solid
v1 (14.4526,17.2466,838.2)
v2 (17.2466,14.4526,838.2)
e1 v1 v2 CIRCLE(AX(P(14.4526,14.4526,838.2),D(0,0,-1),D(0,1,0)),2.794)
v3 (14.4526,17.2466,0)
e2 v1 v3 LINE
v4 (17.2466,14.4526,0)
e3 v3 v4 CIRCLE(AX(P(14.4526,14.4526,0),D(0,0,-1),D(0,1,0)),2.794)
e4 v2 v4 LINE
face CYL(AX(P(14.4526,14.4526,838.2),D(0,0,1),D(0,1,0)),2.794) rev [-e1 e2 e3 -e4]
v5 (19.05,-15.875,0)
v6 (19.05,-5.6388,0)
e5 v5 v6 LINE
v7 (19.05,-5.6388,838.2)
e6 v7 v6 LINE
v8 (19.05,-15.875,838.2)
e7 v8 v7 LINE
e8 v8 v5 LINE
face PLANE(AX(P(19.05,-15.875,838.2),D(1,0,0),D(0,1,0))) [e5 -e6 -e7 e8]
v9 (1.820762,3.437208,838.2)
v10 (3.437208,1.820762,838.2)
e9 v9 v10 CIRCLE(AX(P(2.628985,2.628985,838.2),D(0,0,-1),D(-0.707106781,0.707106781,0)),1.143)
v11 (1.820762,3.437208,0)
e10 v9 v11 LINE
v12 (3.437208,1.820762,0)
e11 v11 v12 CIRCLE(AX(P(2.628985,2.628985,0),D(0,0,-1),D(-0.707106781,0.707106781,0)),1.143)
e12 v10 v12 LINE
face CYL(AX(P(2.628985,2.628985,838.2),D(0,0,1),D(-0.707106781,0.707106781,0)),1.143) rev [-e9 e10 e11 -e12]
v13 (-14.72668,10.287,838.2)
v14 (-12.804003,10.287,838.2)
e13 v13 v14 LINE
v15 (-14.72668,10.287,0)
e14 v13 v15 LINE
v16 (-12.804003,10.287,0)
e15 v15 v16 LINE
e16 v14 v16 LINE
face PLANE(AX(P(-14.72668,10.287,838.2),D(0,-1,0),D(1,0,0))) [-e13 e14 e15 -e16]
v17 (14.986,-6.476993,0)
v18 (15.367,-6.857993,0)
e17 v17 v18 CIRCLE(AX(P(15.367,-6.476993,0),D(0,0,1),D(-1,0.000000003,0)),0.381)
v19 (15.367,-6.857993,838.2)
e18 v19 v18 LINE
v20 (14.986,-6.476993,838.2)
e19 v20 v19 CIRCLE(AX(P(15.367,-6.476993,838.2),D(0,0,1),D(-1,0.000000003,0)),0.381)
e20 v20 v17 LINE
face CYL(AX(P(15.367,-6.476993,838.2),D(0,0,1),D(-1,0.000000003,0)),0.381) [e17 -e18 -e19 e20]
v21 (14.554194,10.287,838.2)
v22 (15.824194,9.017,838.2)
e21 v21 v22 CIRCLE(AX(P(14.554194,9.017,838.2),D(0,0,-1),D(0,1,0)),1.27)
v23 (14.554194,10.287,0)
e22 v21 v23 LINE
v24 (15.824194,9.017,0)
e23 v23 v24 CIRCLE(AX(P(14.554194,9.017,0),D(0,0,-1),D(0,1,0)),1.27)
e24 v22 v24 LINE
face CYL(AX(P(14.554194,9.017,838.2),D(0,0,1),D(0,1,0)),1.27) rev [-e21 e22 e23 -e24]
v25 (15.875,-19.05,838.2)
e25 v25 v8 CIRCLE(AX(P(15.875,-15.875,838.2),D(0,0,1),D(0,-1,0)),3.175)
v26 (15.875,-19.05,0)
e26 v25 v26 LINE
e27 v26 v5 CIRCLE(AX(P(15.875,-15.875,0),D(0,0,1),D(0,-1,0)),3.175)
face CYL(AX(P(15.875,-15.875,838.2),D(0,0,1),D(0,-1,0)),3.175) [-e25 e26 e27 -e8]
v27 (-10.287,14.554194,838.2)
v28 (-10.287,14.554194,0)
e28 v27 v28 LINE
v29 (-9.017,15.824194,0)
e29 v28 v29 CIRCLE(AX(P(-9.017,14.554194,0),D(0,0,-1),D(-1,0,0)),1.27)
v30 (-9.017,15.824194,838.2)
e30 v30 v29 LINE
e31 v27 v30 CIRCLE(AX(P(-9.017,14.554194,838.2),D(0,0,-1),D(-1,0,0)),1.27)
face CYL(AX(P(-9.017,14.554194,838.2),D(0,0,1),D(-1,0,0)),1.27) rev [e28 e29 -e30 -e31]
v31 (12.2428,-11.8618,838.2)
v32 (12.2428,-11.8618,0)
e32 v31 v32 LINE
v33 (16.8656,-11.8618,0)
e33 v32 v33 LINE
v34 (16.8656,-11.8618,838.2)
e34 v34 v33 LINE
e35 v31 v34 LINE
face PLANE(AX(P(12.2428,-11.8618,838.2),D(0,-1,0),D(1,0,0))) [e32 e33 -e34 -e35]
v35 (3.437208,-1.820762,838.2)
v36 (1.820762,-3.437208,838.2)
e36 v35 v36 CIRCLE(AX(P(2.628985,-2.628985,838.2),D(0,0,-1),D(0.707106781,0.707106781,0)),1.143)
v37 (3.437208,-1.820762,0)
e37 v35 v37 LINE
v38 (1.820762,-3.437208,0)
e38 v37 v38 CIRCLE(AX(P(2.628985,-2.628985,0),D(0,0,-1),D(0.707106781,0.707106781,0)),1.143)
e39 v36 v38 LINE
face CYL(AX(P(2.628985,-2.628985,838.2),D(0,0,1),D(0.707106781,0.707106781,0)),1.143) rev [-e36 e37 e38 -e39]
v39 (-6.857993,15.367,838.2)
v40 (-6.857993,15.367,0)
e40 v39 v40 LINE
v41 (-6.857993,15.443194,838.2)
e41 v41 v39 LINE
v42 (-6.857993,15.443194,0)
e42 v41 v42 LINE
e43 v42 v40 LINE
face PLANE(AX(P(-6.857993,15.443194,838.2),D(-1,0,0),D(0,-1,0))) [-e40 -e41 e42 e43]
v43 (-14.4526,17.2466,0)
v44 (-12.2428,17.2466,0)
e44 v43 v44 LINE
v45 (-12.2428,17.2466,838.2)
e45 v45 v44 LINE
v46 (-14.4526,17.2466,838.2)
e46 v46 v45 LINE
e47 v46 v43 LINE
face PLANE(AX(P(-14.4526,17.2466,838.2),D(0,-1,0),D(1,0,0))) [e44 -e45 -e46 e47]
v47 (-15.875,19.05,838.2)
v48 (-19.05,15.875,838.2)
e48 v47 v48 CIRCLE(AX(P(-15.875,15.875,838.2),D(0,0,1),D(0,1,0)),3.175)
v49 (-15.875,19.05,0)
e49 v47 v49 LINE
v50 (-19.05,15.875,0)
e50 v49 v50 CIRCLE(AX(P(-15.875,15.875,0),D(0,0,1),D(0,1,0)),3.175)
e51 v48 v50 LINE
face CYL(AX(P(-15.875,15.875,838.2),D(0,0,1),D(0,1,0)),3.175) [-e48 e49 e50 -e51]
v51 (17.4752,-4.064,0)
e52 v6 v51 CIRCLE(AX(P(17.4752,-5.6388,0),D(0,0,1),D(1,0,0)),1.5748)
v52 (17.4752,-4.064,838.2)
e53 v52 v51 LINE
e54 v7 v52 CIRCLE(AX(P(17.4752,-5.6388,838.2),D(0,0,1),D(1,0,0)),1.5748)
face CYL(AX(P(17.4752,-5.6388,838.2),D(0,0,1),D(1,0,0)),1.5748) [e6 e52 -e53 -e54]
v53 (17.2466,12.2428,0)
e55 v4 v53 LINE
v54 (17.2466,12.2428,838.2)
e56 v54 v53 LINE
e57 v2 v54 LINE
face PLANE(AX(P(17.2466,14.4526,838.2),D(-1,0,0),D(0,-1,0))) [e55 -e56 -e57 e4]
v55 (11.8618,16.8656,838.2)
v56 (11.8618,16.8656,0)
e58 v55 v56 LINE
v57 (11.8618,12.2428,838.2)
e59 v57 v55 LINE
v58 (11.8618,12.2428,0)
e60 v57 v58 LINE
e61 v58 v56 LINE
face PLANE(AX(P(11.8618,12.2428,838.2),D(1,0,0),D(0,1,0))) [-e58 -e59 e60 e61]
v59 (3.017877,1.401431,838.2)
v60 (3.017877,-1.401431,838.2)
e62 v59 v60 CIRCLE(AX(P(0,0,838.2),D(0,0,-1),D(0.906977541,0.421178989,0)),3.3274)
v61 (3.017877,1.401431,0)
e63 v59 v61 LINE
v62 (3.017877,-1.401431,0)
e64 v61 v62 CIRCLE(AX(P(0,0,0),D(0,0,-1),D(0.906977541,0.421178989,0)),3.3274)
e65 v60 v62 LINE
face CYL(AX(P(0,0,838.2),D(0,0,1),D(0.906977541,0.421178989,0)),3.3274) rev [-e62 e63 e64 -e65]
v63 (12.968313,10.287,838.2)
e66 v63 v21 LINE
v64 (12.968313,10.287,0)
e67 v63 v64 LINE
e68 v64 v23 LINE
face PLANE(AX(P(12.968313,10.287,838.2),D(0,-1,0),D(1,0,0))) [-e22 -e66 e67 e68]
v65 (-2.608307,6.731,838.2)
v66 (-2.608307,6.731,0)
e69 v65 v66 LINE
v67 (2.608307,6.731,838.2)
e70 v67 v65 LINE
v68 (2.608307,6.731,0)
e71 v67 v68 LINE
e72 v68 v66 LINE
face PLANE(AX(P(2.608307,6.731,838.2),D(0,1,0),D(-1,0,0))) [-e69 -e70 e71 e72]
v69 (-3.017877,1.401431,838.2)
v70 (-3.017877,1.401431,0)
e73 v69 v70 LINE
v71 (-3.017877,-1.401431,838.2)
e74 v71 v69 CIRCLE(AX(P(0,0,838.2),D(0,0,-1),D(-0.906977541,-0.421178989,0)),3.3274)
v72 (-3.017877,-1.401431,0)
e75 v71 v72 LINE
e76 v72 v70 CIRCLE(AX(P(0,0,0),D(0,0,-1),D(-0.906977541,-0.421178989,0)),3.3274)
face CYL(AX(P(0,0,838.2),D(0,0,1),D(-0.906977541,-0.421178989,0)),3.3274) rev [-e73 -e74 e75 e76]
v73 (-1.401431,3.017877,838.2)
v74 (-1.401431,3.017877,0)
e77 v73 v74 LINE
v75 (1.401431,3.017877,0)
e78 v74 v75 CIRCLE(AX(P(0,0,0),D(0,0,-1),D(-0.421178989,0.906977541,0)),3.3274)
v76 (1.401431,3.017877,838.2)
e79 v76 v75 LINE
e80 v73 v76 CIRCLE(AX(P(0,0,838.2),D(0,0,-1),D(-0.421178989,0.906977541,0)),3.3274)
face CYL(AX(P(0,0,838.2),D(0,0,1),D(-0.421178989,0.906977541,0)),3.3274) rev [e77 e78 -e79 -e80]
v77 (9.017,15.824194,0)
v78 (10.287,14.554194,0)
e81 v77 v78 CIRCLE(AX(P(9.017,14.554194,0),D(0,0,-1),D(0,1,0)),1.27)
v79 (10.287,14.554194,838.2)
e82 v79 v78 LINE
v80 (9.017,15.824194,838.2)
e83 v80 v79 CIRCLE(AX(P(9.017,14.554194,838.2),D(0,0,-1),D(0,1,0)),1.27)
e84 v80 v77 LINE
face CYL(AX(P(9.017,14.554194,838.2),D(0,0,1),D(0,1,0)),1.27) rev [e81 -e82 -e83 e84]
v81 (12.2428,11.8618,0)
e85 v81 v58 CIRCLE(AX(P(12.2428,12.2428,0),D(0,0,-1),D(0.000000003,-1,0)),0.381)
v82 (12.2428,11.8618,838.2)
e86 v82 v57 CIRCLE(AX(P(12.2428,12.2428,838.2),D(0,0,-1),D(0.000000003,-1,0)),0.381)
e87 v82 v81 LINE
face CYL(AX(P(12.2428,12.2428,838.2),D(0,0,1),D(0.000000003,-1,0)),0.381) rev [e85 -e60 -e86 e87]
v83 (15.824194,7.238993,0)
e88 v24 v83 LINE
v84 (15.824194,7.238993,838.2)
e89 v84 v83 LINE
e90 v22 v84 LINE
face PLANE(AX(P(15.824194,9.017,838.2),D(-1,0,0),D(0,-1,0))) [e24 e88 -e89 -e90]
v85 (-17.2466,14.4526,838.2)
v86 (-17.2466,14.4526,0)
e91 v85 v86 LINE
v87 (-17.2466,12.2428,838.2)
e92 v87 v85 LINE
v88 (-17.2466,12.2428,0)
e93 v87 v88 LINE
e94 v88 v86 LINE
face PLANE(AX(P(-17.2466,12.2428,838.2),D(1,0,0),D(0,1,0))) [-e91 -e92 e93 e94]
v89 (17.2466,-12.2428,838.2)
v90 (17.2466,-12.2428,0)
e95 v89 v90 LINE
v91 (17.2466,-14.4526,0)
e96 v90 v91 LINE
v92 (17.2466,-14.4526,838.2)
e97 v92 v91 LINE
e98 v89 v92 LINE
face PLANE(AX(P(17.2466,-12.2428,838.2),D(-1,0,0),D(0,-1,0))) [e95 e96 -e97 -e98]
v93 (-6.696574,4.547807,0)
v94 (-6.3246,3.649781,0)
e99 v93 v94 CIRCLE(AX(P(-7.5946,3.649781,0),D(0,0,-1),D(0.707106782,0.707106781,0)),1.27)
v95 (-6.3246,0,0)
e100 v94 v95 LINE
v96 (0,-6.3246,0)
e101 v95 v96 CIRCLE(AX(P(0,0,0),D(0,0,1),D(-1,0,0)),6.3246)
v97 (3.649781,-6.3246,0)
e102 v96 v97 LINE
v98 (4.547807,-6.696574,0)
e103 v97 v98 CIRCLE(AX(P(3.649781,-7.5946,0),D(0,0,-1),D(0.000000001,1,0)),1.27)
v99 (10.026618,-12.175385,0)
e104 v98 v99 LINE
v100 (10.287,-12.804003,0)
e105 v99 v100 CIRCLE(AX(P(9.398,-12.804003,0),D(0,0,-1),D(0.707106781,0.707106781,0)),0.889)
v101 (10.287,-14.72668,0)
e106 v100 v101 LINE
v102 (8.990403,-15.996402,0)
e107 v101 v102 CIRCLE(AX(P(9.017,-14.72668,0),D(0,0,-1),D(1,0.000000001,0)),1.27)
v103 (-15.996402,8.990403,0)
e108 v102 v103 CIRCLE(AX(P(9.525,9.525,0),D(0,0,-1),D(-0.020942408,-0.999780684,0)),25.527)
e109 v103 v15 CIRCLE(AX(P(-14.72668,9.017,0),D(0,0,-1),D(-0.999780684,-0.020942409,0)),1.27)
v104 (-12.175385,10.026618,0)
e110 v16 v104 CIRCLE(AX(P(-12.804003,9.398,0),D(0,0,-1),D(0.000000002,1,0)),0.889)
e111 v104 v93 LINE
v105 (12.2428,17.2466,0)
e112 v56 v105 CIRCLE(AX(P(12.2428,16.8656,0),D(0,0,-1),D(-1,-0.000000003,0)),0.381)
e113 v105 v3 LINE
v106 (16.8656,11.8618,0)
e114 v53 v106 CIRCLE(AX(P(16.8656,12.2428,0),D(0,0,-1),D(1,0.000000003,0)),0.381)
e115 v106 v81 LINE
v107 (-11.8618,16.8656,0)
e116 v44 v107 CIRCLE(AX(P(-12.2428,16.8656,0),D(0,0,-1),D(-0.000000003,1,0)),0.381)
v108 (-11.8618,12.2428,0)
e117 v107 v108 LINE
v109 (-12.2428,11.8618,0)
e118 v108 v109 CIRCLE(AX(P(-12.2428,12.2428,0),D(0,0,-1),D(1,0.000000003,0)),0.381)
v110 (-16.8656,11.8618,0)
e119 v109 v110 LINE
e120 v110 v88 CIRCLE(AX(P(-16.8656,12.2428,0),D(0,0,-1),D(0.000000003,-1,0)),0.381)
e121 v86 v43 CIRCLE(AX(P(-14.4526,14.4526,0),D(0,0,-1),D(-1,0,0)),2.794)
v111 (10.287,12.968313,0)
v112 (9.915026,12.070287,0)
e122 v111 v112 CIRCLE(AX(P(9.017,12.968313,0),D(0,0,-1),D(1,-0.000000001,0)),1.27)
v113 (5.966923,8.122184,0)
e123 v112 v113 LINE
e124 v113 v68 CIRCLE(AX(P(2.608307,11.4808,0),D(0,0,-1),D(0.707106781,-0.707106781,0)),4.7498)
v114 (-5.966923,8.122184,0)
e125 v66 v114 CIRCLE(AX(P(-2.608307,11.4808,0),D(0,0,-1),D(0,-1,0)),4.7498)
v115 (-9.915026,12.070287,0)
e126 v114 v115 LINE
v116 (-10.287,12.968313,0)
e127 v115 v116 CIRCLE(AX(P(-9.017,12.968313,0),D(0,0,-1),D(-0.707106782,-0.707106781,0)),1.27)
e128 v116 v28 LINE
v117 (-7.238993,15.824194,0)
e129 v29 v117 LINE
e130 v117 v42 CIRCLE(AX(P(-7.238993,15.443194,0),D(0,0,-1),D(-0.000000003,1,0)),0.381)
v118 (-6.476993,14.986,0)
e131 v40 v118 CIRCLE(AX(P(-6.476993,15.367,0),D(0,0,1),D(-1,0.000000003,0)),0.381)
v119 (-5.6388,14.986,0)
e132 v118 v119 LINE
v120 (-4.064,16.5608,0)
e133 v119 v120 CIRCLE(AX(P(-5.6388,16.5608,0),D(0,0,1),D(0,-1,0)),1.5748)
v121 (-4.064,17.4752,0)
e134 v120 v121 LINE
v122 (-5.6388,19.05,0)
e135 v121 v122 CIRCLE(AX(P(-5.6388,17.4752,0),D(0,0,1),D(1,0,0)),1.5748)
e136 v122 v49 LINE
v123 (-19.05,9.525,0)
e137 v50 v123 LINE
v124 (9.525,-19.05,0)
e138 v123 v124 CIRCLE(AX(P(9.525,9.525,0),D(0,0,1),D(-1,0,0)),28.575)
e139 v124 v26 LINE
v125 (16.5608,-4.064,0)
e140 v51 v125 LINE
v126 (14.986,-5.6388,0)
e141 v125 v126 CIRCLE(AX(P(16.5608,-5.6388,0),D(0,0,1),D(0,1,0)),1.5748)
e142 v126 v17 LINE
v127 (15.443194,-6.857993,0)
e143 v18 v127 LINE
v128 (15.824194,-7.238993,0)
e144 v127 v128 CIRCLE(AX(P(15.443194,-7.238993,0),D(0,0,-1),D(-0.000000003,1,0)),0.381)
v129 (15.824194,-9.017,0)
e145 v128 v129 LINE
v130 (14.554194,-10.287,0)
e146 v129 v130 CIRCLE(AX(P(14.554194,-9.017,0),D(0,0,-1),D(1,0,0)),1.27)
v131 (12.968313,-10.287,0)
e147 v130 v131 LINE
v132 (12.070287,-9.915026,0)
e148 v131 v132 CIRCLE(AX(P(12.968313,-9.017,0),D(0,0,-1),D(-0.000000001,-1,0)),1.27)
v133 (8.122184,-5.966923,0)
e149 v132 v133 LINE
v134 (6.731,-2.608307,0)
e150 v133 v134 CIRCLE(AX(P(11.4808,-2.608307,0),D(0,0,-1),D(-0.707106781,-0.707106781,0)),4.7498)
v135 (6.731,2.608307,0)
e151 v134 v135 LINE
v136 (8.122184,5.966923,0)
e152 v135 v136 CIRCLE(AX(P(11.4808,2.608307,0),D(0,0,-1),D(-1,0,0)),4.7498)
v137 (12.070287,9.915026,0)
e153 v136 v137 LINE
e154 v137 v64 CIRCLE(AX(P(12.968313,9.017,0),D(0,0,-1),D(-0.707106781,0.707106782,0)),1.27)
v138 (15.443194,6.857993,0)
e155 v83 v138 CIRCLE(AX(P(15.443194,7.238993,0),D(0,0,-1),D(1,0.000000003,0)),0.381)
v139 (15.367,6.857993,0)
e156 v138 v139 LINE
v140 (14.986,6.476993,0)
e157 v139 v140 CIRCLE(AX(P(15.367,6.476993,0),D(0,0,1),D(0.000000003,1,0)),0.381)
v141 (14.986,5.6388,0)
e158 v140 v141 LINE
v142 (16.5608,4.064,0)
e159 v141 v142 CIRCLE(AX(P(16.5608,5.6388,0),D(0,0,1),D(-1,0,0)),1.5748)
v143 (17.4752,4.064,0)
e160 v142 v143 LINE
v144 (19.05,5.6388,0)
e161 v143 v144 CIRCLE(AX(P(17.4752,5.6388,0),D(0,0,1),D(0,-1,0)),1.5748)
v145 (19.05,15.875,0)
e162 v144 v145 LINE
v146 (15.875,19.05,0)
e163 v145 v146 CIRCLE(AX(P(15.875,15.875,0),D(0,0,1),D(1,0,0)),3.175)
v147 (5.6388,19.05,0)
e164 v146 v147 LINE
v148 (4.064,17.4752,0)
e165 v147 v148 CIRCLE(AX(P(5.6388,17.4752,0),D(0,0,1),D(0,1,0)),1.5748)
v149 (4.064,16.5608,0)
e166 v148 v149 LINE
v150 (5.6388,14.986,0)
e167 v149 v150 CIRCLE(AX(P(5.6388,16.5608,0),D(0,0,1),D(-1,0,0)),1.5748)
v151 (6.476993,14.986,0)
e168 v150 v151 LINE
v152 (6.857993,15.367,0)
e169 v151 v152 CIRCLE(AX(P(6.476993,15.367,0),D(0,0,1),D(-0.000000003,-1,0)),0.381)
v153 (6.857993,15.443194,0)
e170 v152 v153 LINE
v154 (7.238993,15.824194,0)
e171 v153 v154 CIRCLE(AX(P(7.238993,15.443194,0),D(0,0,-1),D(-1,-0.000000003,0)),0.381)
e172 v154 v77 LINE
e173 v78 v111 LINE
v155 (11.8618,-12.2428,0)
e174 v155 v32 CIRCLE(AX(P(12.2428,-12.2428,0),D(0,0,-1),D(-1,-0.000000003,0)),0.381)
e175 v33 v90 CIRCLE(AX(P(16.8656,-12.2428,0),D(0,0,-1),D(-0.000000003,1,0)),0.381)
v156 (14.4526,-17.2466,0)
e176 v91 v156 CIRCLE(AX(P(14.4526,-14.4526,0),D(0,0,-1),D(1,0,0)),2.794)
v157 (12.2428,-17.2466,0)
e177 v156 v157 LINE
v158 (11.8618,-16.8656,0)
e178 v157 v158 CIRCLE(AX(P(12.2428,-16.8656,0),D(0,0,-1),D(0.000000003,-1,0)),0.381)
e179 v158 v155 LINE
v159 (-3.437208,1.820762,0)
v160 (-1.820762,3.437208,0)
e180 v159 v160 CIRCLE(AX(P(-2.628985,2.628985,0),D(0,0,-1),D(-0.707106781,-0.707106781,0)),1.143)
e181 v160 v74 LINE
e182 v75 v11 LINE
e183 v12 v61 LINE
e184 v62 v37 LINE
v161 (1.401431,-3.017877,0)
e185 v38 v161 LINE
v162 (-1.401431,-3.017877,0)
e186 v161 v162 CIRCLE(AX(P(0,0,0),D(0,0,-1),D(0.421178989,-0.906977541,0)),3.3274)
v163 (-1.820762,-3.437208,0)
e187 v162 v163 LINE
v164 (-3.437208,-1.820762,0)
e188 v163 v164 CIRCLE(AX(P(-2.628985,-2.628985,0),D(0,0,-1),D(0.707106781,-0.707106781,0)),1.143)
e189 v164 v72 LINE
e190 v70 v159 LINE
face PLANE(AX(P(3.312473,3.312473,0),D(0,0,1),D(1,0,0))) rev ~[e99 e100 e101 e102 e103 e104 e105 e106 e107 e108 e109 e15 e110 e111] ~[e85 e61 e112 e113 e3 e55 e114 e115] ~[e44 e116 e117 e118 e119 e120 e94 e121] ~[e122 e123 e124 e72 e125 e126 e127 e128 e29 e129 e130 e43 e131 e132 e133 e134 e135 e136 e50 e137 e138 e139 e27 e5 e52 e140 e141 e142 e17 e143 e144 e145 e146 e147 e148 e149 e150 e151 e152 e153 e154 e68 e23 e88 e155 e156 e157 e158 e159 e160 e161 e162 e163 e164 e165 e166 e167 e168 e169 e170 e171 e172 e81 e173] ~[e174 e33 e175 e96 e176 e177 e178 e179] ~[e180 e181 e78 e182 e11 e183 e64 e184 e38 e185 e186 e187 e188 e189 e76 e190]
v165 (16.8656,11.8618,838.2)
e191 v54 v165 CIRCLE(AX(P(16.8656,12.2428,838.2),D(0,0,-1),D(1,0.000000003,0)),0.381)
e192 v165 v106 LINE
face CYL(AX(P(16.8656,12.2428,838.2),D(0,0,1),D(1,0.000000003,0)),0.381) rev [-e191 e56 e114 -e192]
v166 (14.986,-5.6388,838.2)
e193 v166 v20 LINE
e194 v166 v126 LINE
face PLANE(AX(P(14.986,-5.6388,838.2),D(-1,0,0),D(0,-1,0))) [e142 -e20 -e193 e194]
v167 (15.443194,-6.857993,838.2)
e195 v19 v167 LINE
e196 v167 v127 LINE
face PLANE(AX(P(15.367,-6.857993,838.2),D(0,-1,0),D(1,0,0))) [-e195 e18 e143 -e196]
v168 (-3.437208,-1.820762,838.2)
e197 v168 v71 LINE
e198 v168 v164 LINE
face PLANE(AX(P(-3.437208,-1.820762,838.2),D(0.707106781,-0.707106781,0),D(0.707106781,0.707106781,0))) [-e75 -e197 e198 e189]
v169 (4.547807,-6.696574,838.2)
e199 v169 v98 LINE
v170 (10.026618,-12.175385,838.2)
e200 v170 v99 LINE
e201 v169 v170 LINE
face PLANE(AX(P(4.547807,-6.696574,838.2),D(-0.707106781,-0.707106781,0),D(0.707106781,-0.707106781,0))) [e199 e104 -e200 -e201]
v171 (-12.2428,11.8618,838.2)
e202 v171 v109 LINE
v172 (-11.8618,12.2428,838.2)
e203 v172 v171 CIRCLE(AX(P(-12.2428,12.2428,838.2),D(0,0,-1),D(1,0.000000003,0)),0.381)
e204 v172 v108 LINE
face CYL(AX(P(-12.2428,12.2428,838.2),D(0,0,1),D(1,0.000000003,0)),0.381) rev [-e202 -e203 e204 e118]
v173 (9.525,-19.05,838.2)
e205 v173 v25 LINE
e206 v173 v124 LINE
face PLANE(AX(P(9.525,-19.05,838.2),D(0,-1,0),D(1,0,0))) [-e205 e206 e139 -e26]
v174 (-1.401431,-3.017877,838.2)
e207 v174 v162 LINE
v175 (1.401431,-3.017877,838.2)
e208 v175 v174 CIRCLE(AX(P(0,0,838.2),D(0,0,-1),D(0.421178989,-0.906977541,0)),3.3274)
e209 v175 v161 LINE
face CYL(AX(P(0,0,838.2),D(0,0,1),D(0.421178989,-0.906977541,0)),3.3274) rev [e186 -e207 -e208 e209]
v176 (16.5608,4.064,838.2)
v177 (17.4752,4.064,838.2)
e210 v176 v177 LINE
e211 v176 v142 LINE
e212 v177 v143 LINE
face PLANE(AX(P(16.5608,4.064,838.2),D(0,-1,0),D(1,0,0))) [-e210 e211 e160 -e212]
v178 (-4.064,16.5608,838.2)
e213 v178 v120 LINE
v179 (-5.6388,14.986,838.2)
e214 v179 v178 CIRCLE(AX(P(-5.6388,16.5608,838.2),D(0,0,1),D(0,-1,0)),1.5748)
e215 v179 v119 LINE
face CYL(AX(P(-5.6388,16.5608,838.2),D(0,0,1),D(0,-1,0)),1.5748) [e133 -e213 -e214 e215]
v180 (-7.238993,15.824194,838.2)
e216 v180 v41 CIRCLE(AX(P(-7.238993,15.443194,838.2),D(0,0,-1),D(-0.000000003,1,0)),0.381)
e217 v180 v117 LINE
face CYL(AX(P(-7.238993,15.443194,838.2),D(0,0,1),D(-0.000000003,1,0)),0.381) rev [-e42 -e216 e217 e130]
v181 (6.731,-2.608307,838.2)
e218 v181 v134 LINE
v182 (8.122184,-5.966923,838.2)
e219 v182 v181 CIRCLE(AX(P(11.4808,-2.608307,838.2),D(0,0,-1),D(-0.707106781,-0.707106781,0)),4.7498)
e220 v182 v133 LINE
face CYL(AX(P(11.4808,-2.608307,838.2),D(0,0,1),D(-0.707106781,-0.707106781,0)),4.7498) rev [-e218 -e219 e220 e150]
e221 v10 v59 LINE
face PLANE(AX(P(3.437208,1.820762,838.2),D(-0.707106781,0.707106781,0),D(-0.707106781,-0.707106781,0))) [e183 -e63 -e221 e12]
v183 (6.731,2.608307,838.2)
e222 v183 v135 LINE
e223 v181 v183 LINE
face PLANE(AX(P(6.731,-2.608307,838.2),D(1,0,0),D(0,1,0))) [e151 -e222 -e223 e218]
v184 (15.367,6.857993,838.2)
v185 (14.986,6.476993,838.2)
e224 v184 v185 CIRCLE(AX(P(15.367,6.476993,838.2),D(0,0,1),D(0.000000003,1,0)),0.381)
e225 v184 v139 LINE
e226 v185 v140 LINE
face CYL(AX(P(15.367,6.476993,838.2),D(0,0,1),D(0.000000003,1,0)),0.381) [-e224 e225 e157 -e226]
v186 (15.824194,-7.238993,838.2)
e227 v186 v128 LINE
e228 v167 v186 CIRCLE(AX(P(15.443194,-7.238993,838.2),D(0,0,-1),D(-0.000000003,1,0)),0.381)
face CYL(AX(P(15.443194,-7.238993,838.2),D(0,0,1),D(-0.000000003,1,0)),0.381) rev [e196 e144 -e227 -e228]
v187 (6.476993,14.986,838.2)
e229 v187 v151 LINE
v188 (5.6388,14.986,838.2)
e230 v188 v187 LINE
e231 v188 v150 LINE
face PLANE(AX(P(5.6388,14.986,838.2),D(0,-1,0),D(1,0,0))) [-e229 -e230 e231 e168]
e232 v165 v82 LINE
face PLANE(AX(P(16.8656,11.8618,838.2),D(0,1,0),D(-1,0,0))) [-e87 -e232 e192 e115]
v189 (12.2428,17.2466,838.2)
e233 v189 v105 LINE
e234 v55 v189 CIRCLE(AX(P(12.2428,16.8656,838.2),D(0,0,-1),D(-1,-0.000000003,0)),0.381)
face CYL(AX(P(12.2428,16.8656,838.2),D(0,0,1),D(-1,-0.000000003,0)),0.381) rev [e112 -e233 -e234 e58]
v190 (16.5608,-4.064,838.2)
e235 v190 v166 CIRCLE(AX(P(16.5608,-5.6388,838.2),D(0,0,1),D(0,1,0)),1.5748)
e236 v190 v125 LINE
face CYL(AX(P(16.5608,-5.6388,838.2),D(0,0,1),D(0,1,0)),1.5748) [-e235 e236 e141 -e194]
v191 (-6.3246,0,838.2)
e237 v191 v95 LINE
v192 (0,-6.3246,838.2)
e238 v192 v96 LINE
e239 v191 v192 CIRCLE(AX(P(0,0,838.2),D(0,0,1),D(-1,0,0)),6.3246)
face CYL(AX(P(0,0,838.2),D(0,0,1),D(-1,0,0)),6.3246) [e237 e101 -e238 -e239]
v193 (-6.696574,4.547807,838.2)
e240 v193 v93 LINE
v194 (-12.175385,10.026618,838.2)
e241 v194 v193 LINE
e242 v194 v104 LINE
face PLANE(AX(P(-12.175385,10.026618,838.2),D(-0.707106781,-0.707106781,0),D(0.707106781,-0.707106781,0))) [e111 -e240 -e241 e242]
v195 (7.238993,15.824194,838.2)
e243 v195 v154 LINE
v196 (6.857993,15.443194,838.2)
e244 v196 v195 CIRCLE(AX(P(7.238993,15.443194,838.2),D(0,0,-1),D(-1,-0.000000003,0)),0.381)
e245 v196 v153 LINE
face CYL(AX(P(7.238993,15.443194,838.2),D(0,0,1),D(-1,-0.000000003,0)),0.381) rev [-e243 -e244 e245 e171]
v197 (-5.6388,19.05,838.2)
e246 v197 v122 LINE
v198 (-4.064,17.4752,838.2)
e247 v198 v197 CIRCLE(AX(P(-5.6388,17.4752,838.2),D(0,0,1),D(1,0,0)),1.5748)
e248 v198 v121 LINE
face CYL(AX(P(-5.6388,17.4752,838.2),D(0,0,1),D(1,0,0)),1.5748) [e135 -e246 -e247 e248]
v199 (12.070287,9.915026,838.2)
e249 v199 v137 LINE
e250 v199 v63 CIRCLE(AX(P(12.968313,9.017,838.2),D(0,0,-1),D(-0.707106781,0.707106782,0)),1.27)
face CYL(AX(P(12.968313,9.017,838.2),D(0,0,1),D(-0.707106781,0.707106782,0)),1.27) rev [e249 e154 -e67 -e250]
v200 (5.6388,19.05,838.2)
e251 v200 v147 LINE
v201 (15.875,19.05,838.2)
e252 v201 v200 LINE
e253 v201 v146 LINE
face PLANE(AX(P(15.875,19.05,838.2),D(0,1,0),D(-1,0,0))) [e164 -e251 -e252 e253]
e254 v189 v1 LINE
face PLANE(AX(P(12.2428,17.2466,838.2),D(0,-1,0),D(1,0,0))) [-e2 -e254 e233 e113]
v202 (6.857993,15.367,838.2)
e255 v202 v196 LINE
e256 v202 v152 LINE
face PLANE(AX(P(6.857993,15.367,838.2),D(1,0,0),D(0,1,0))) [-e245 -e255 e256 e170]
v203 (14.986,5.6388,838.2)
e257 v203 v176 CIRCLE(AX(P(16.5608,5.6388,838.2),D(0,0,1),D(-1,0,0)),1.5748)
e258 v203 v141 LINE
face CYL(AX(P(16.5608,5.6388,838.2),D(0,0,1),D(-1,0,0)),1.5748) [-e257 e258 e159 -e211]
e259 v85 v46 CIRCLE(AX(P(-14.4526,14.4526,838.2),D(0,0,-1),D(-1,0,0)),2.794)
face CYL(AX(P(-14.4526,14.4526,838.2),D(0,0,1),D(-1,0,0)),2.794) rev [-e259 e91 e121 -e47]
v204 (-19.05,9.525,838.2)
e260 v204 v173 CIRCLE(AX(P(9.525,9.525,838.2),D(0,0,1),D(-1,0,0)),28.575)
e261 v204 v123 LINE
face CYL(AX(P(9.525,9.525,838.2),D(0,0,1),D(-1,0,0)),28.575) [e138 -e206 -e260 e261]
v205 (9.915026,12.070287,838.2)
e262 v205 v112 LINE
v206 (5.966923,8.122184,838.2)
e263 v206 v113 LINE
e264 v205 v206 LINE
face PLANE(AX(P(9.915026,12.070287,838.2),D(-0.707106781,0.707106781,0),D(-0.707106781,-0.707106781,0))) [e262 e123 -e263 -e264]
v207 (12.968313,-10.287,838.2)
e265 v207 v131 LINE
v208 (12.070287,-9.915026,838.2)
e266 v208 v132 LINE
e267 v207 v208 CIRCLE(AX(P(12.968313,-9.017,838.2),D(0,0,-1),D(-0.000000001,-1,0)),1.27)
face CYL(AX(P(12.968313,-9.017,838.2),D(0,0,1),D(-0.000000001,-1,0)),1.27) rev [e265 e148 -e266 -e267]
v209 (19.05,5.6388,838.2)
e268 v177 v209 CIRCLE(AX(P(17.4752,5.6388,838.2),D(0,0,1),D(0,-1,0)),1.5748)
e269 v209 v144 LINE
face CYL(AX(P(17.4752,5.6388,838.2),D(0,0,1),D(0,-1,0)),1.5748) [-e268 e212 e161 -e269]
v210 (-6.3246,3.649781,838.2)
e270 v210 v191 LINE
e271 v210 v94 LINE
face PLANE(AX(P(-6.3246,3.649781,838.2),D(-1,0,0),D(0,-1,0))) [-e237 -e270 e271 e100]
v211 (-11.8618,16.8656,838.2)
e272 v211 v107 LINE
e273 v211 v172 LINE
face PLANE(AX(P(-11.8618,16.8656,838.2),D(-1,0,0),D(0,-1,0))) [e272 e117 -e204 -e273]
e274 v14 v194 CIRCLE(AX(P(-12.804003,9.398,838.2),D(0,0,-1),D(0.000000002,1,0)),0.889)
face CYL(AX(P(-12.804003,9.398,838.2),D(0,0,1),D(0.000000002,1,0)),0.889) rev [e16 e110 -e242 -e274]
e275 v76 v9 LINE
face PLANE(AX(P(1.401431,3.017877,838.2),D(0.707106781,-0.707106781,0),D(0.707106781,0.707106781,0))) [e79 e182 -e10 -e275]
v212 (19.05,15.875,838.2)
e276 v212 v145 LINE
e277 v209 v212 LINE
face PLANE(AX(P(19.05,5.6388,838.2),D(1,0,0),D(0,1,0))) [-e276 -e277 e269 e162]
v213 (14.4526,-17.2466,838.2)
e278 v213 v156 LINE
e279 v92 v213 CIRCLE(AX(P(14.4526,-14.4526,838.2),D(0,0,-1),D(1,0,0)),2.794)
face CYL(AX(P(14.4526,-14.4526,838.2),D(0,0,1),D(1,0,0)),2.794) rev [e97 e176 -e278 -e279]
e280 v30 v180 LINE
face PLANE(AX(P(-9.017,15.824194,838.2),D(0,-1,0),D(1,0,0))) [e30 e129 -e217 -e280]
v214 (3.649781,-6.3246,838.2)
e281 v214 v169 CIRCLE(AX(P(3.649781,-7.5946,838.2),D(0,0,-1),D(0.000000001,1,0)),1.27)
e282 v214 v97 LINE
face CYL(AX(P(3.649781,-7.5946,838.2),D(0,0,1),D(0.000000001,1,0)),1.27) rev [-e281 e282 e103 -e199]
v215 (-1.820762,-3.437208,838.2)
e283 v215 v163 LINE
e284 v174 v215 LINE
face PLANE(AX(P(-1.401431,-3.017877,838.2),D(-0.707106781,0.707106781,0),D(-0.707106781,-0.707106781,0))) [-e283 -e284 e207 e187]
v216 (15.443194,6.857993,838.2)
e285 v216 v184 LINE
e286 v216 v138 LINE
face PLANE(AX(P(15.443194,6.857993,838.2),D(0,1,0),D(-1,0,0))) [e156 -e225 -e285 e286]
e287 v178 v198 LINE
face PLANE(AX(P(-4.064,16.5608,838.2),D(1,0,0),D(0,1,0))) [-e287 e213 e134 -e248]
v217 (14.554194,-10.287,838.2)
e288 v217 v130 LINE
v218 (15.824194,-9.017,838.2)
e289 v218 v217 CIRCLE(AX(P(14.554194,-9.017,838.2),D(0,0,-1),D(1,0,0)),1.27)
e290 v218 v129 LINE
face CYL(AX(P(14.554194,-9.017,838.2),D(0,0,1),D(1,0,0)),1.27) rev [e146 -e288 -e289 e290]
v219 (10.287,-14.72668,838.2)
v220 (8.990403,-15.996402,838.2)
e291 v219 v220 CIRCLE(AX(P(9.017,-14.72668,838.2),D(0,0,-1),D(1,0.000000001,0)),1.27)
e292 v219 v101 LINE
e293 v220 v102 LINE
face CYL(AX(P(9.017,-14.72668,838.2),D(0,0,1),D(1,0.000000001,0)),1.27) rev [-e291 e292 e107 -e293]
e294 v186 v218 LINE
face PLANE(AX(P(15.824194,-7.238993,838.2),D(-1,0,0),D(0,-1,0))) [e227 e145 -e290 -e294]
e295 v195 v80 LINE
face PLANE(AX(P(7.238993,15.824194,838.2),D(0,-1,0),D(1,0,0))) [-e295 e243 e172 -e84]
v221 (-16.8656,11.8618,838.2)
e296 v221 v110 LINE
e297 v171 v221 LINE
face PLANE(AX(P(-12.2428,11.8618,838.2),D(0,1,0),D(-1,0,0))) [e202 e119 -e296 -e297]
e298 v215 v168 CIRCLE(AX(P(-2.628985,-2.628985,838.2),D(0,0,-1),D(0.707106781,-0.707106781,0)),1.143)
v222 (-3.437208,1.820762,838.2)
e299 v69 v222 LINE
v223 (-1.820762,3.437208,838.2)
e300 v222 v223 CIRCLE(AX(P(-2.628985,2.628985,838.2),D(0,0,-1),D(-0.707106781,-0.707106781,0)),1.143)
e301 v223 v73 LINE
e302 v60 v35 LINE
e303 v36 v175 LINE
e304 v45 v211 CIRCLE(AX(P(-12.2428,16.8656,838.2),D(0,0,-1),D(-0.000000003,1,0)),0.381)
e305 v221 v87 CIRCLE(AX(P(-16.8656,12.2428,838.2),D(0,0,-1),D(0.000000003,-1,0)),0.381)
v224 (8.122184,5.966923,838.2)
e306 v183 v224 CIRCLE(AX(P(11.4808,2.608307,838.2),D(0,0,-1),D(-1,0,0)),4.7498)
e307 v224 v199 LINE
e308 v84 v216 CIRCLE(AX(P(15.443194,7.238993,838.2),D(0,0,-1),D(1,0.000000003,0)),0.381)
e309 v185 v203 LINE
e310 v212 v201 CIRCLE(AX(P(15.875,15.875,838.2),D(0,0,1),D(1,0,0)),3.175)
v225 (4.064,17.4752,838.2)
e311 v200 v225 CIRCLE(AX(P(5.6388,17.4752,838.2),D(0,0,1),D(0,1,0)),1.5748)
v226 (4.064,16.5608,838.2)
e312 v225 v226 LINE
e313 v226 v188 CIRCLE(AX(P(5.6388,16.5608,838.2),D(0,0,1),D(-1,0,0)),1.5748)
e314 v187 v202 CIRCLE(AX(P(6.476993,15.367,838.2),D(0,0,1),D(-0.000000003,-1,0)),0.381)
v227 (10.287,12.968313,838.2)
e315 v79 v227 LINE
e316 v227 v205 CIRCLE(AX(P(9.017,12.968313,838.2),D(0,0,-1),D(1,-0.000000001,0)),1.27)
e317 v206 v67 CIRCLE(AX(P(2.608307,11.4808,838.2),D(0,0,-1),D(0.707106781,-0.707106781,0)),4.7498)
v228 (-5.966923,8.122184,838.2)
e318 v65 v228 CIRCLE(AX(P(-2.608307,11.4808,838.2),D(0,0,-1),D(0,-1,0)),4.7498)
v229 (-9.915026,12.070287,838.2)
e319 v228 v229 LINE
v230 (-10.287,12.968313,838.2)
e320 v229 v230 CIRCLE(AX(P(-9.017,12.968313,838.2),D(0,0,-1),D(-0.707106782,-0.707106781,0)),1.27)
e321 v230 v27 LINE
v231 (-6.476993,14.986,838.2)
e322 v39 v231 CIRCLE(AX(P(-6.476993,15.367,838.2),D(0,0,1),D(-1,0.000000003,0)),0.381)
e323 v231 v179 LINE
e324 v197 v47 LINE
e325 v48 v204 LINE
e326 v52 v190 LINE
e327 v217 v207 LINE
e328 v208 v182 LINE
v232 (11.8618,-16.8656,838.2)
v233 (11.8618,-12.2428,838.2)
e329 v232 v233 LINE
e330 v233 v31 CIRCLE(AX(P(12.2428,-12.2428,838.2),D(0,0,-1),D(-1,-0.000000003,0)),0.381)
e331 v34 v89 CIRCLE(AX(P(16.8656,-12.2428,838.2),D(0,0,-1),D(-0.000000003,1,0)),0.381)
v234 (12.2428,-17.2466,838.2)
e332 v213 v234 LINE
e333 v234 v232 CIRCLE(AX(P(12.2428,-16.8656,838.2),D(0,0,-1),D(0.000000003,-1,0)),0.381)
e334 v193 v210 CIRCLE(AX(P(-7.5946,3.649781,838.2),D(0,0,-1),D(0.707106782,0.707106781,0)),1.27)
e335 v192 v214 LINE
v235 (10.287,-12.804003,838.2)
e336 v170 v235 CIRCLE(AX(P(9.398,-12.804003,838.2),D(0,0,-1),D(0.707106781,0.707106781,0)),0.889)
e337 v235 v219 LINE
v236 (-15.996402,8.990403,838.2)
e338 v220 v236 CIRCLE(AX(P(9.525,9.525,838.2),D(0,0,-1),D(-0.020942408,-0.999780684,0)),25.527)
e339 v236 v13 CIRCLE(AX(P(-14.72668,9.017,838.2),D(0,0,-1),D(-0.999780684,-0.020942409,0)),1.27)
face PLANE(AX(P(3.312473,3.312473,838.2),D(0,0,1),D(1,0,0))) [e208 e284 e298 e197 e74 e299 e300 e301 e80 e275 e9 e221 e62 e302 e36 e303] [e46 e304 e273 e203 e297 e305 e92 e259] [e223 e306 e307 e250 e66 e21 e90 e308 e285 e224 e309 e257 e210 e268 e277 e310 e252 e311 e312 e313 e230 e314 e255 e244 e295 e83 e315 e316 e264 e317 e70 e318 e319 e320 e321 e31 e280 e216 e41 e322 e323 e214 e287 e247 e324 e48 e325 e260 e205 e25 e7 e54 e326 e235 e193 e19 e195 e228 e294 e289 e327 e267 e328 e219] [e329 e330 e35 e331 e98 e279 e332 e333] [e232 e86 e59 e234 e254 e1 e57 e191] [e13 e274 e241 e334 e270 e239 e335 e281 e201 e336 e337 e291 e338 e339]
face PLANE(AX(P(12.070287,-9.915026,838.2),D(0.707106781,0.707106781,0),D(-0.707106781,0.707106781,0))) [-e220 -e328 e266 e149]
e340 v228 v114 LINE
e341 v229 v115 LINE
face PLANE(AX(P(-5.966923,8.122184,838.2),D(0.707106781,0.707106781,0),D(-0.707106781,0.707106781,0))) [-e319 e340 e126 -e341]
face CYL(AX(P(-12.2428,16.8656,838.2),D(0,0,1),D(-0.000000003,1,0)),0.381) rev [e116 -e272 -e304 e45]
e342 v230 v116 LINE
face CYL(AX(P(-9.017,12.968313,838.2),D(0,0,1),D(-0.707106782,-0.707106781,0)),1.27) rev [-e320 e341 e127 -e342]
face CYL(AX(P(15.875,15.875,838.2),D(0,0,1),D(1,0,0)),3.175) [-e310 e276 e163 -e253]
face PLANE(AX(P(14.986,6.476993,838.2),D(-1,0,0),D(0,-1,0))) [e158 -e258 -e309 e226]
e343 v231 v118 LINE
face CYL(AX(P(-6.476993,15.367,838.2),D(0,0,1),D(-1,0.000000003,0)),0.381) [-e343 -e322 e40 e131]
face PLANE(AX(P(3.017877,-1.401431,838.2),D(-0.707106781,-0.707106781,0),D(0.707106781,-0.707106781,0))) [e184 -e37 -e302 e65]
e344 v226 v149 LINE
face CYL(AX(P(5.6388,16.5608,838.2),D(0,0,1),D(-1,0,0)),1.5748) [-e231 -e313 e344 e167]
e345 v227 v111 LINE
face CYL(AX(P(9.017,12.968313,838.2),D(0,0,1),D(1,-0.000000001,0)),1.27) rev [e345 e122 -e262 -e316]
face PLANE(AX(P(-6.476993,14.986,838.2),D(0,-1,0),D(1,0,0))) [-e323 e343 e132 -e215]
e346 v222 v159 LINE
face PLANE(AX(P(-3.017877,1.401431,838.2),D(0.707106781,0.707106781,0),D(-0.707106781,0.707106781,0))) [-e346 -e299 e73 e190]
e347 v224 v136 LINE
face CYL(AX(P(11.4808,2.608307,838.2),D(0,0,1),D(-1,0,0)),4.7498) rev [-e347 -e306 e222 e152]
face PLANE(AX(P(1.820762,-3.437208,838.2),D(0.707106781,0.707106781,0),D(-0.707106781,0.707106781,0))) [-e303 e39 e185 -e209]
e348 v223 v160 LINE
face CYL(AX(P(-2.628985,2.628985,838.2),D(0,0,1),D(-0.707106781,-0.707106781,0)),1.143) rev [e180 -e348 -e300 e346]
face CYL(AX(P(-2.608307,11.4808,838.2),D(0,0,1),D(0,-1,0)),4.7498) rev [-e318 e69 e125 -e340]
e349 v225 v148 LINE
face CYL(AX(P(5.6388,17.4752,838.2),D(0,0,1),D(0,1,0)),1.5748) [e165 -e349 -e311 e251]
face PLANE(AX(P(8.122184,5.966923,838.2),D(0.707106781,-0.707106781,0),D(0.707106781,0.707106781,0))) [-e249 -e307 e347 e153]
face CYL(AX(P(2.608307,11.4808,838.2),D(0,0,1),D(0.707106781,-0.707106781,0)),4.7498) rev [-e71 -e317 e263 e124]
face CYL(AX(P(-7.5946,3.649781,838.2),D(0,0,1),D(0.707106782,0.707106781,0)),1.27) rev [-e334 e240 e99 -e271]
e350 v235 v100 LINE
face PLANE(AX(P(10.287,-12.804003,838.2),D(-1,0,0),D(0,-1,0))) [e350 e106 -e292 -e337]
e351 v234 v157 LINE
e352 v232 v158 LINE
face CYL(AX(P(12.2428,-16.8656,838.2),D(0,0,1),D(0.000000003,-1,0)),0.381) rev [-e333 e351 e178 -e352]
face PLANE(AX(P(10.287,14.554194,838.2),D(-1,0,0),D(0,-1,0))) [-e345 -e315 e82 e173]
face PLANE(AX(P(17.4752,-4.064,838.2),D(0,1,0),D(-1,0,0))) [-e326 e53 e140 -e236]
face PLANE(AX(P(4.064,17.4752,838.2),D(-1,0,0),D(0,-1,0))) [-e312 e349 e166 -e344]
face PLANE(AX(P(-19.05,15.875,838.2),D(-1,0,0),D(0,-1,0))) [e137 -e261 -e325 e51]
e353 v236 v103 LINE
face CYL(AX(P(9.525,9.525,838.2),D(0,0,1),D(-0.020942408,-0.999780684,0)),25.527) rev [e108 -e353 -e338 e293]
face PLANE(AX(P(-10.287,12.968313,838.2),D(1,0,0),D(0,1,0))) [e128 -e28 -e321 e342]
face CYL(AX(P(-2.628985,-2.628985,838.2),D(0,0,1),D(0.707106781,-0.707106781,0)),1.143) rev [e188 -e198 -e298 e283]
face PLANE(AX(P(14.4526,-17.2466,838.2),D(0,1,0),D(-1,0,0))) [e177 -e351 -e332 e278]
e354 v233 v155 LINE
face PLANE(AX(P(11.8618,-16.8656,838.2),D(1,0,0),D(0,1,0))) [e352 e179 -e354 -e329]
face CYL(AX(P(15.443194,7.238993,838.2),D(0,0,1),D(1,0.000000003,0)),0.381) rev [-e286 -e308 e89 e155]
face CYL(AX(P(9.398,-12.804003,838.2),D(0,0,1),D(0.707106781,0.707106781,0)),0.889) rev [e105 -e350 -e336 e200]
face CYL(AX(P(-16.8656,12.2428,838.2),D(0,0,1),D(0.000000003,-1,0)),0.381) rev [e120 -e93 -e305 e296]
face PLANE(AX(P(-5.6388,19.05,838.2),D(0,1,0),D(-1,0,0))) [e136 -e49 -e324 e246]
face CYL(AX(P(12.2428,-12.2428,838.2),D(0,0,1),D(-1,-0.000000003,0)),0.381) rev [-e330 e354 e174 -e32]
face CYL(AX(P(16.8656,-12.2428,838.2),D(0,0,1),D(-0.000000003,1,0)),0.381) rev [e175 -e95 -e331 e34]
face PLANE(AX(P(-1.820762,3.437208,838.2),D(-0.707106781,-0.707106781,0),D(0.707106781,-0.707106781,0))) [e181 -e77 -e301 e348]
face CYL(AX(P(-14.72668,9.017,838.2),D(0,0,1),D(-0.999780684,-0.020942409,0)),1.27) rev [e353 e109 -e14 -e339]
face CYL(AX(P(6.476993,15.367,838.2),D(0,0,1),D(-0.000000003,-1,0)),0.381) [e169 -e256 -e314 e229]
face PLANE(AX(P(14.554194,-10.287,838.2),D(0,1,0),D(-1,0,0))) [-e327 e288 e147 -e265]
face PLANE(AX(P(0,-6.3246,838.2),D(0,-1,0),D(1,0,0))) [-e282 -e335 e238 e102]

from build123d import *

# Parameters (mm, degrees)
BOSS_EXTRUDE1_DEPTH = 838.2


with BuildPart() as part:
    # Sketch1 → Boss-Extrude1 (new body)
    with BuildSketch(Plane.XY.offset(838.2)):
        with BuildLine():
            Line((-19.05, 15.875), (-19.05, 9.525))
            ThreePointArc((-19.05, 9.525), (-10.680576272, -10.680576272), (9.525, -19.05))
            Line((9.525, -19.05), (15.875, -19.05))
            ThreePointArc((15.875, -19.05), (18.12006403, -18.12006403), (19.05, -15.875))
            Line((19.05, -15.875), (19.05, -5.6388))
            ThreePointArc((19.05, -5.6388), (18.588751759, -4.525248241), (17.4752, -4.064))
            Line((17.4752, -4.064), (16.5608, -4.064))
            ThreePointArc((16.5608, -4.064), (15.447248241, -4.525248241), (14.986, -5.6388))
            Line((14.986, -5.6388), (14.986, -6.476993142))
            ThreePointArc((14.986, -6.476993142), (15.097592316, -6.746400826), (15.367, -6.857993142))
            Line((15.367, -6.857993142), (15.44319365, -6.857993142))
            ThreePointArc((15.44319365, -6.857993142), (15.712601334, -6.969585458), (15.82419365, -7.238993142))
            Line((15.82419365, -7.238993142), (15.82419365, -9.017))
            ThreePointArc((15.82419365, -9.017), (15.452219262, -9.915025612), (14.55419365, -10.287))
            Line((14.55419365, -10.287), (12.968312693, -10.287))
            ThreePointArc((12.968312693, -10.287), (12.482304734, -10.190327006), (12.070287081, -9.915025612))
            Line((12.070287081, -9.915025612), (8.122184211, -5.966922742))
            ThreePointArc((8.122184211, -5.966922742), (7.092556996, -4.425976719), (6.731, -2.608306952))
            Line((6.731, -2.608306952), (6.731, 2.608306952))
            ThreePointArc((6.731, 2.608306952), (7.092556996, 4.425976719), (8.122184211, 5.966922742))
            Line((8.122184211, 5.966922742), (12.070287081, 9.915025612))
            ThreePointArc((12.070287081, 9.915025612), (12.482304734, 10.190327006), (12.968312693, 10.287))
            Line((12.968312693, 10.287), (14.55419365, 10.287))
            ThreePointArc((14.55419365, 10.287), (15.452219262, 9.915025612), (15.82419365, 9.017))
            Line((15.82419365, 9.017), (15.82419365, 7.238993142))
            ThreePointArc((15.82419365, 7.238993142), (15.712601334, 6.969585458), (15.44319365, 6.857993142))
            Line((15.44319365, 6.857993142), (15.367, 6.857993142))
            ThreePointArc((15.367, 6.857993142), (15.097592316, 6.746400826), (14.986, 6.476993142))
            Line((14.986, 6.476993142), (14.986, 5.6388))
            ThreePointArc((14.986, 5.6388), (15.447248241, 4.525248241), (16.5608, 4.064))
            Line((16.5608, 4.064), (17.4752, 4.064))
            ThreePointArc((17.4752, 4.064), (18.588751759, 4.525248241), (19.05, 5.6388))
            Line((19.05, 5.6388), (19.05, 15.875))
            ThreePointArc((19.05, 15.875), (18.12006403, 18.12006403), (15.875, 19.05))
            Line((15.875, 19.05), (5.6388, 19.05))
            ThreePointArc((5.6388, 19.05), (4.525248241, 18.588751759), (4.064, 17.4752))
            Line((4.064, 17.4752), (4.064, 16.5608))
            ThreePointArc((4.064, 16.5608), (4.525248241, 15.447248241), (5.6388, 14.986))
            Line((5.6388, 14.986), (6.476993142, 14.986))
            ThreePointArc((6.476993142, 14.986), (6.746400826, 15.097592316), (6.857993142, 15.367))
            Line((6.857993142, 15.367), (6.857993142, 15.44319365))
            ThreePointArc((6.857993142, 15.44319365), (6.969585458, 15.712601334), (7.238993142, 15.82419365))
            Line((7.238993142, 15.82419365), (9.017, 15.82419365))
            ThreePointArc((9.017, 15.82419365), (9.915025612, 15.452219262), (10.287, 14.55419365))
            Line((10.287, 14.55419365), (10.287, 12.968312693))
            ThreePointArc((10.287, 12.968312693), (10.190327006, 12.482304734), (9.915025612, 12.070287081))
            Line((9.915025612, 12.070287081), (5.966922742, 8.122184211))
            ThreePointArc((5.966922742, 8.122184211), (4.425976719, 7.092556996), (2.608306952, 6.731))
            Line((2.608306952, 6.731), (-2.608306952, 6.731))
            ThreePointArc((-2.608306952, 6.731), (-4.425976719, 7.092556996), (-5.966922742, 8.122184211))
            Line((-5.966922742, 8.122184211), (-9.915025612, 12.070287081))
            ThreePointArc((-9.915025612, 12.070287081), (-10.190327006, 12.482304734), (-10.287, 12.968312693))
            Line((-10.287, 12.968312693), (-10.287, 14.55419365))
            ThreePointArc((-10.287, 14.55419365), (-9.915025612, 15.452219262), (-9.017, 15.82419365))
            Line((-9.017, 15.82419365), (-7.238993142, 15.82419365))
            ThreePointArc((-7.238993142, 15.82419365), (-6.969585458, 15.712601334), (-6.857993142, 15.44319365))
            Line((-6.857993142, 15.44319365), (-6.857993142, 15.367))
            ThreePointArc((-6.857993142, 15.367), (-6.746400826, 15.097592316), (-6.476993142, 14.986))
            Line((-6.476993142, 14.986), (-5.6388, 14.986))
            ThreePointArc((-5.6388, 14.986), (-4.525248241, 15.447248241), (-4.064, 16.5608))
            Line((-4.064, 16.5608), (-4.064, 17.4752))
            ThreePointArc((-4.064, 17.4752), (-4.525248241, 18.588751759), (-5.6388, 19.05))
            Line((-5.6388, 19.05), (-15.875, 19.05))
            ThreePointArc((-15.875, 19.05), (-18.12006403, 18.12006403), (-19.05, 15.875))
        make_face()
        with BuildLine():
            Line((-14.4526, 17.2466), (-12.2428, 17.2466))
            ThreePointArc((-12.2428, 17.2466), (-11.973392316, 17.135007684), (-11.8618, 16.8656))
            Line((-11.8618, 16.8656), (-11.8618, 12.2428))
            ThreePointArc((-11.8618, 12.2428), (-11.973392316, 11.973392316), (-12.2428, 11.8618))
            Line((-12.2428, 11.8618), (-16.8656, 11.8618))
            ThreePointArc((-16.8656, 11.8618), (-17.135007684, 11.973392316), (-17.2466, 12.2428))
            Line((-17.2466, 12.2428), (-17.2466, 14.4526))
            ThreePointArc((-17.2466, 14.4526), (-16.428256347, 16.428256347), (-14.4526, 17.2466))
        make_face(mode=Mode.SUBTRACT)
        with BuildLine():
            Line((-14.726680045, 10.287), (-12.804003164, 10.287))
            ThreePointArc((-12.804003164, 10.287), (-12.463797593, 10.219328904), (-12.175385236, 10.026617928))
            Line((-12.175385236, 10.026617928), (-6.696574388, 4.547807081))
            ThreePointArc((-6.696574388, 4.547807081), (-6.421272994, 4.135789428), (-6.3246, 3.649781469))
            Line((-6.3246, 3.649781469), (-6.3246, 0))
            ThreePointArc((-6.3246, 0), (-4.472167548, -4.472167548), (0, -6.3246))
            Line((0, -6.3246), (3.649781469, -6.3246))
            ThreePointArc((3.649781469, -6.3246), (4.135789428, -6.421272994), (4.547807081, -6.696574388))
            Line((4.547807081, -6.696574388), (10.026617928, -12.175385236))
            ThreePointArc((10.026617928, -12.175385236), (10.219328904, -12.463797593), (10.287, -12.804003164))
            Line((10.287, -12.804003164), (10.287, -14.726680045))
            ThreePointArc((10.287, -14.726680045), (9.905572448, -15.634060343), (8.990403141, -15.996401513))
            ThreePointArc((8.990403141, -15.996401513), (-8.525314803, -8.525314803), (-15.996401513, 8.990403141))
            ThreePointArc((-15.996401513, 8.990403141), (-15.634060343, 9.905572448), (-14.726680045, 10.287))
        make_face(mode=Mode.SUBTRACT)
        with BuildLine():
            Line((-3.437208141, -1.820762039), (-3.017877069, -1.401430967))
            ThreePointArc((-3.017877069, -1.401430967), (-3.3274, 0), (-3.017877069, 1.401430967))
            Line((-3.017877069, 1.401430967), (-3.437208141, 1.820762039))
            ThreePointArc((-3.437208141, 1.820762039), (-3.437208141, 3.437208141), (-1.820762039, 3.437208141))
            Line((-1.820762039, 3.437208141), (-1.401430967, 3.017877069))
            ThreePointArc((-1.401430967, 3.017877069), (0, 3.3274), (1.401430967, 3.017877069))
            Line((1.401430967, 3.017877069), (1.820762039, 3.437208141))
            ThreePointArc((1.820762039, 3.437208141), (3.437208141, 3.437208141), (3.437208141, 1.820762039))
            Line((3.437208141, 1.820762039), (3.017877069, 1.401430967))
            ThreePointArc((3.017877069, 1.401430967), (3.3274, 0), (3.017877069, -1.401430967))
            Line((3.017877069, -1.401430967), (3.437208141, -1.820762039))
            ThreePointArc((3.437208141, -1.820762039), (3.437208141, -3.437208141), (1.820762039, -3.437208141))
            Line((1.820762039, -3.437208141), (1.401430967, -3.017877069))
            ThreePointArc((1.401430967, -3.017877069), (0, -3.3274), (-1.401430967, -3.017877069))
            Line((-1.401430967, -3.017877069), (-1.820762039, -3.437208141))
            ThreePointArc((-1.820762039, -3.437208141), (-3.437208141, -3.437208141), (-3.437208141, -1.820762039))
        make_face(mode=Mode.SUBTRACT)
        with BuildLine():
            Line((12.2428, 17.2466), (14.4526, 17.2466))
            ThreePointArc((14.4526, 17.2466), (16.428256347, 16.428256347), (17.2466, 14.4526))
            Line((17.2466, 14.4526), (17.2466, 12.2428))
            ThreePointArc((17.2466, 12.2428), (17.135007684, 11.973392316), (16.8656, 11.8618))
            Line((16.8656, 11.8618), (12.2428, 11.8618))
            ThreePointArc((12.2428, 11.8618), (11.973392316, 11.973392316), (11.8618, 12.2428))
            Line((11.8618, 12.2428), (11.8618, 16.8656))
            ThreePointArc((11.8618, 16.8656), (11.973392316, 17.135007684), (12.2428, 17.2466))
        make_face(mode=Mode.SUBTRACT)
        with BuildLine():
            Line((11.8618, -16.8656), (11.8618, -12.2428))
            ThreePointArc((11.8618, -12.2428), (11.973392316, -11.973392316), (12.2428, -11.8618))
            Line((12.2428, -11.8618), (16.8656, -11.8618))
            ThreePointArc((16.8656, -11.8618), (17.135007684, -11.973392316), (17.2466, -12.2428))
            Line((17.2466, -12.2428), (17.2466, -14.4526))
            ThreePointArc((17.2466, -14.4526), (16.428256347, -16.428256347), (14.4526, -17.2466))
            Line((14.4526, -17.2466), (12.2428, -17.2466))
            ThreePointArc((12.2428, -17.2466), (11.973392316, -17.135007684), (11.8618, -16.8656))
        make_face(mode=Mode.SUBTRACT)
    extrude(amount=-BOSS_EXTRUDE1_DEPTH)


solid = part.part
